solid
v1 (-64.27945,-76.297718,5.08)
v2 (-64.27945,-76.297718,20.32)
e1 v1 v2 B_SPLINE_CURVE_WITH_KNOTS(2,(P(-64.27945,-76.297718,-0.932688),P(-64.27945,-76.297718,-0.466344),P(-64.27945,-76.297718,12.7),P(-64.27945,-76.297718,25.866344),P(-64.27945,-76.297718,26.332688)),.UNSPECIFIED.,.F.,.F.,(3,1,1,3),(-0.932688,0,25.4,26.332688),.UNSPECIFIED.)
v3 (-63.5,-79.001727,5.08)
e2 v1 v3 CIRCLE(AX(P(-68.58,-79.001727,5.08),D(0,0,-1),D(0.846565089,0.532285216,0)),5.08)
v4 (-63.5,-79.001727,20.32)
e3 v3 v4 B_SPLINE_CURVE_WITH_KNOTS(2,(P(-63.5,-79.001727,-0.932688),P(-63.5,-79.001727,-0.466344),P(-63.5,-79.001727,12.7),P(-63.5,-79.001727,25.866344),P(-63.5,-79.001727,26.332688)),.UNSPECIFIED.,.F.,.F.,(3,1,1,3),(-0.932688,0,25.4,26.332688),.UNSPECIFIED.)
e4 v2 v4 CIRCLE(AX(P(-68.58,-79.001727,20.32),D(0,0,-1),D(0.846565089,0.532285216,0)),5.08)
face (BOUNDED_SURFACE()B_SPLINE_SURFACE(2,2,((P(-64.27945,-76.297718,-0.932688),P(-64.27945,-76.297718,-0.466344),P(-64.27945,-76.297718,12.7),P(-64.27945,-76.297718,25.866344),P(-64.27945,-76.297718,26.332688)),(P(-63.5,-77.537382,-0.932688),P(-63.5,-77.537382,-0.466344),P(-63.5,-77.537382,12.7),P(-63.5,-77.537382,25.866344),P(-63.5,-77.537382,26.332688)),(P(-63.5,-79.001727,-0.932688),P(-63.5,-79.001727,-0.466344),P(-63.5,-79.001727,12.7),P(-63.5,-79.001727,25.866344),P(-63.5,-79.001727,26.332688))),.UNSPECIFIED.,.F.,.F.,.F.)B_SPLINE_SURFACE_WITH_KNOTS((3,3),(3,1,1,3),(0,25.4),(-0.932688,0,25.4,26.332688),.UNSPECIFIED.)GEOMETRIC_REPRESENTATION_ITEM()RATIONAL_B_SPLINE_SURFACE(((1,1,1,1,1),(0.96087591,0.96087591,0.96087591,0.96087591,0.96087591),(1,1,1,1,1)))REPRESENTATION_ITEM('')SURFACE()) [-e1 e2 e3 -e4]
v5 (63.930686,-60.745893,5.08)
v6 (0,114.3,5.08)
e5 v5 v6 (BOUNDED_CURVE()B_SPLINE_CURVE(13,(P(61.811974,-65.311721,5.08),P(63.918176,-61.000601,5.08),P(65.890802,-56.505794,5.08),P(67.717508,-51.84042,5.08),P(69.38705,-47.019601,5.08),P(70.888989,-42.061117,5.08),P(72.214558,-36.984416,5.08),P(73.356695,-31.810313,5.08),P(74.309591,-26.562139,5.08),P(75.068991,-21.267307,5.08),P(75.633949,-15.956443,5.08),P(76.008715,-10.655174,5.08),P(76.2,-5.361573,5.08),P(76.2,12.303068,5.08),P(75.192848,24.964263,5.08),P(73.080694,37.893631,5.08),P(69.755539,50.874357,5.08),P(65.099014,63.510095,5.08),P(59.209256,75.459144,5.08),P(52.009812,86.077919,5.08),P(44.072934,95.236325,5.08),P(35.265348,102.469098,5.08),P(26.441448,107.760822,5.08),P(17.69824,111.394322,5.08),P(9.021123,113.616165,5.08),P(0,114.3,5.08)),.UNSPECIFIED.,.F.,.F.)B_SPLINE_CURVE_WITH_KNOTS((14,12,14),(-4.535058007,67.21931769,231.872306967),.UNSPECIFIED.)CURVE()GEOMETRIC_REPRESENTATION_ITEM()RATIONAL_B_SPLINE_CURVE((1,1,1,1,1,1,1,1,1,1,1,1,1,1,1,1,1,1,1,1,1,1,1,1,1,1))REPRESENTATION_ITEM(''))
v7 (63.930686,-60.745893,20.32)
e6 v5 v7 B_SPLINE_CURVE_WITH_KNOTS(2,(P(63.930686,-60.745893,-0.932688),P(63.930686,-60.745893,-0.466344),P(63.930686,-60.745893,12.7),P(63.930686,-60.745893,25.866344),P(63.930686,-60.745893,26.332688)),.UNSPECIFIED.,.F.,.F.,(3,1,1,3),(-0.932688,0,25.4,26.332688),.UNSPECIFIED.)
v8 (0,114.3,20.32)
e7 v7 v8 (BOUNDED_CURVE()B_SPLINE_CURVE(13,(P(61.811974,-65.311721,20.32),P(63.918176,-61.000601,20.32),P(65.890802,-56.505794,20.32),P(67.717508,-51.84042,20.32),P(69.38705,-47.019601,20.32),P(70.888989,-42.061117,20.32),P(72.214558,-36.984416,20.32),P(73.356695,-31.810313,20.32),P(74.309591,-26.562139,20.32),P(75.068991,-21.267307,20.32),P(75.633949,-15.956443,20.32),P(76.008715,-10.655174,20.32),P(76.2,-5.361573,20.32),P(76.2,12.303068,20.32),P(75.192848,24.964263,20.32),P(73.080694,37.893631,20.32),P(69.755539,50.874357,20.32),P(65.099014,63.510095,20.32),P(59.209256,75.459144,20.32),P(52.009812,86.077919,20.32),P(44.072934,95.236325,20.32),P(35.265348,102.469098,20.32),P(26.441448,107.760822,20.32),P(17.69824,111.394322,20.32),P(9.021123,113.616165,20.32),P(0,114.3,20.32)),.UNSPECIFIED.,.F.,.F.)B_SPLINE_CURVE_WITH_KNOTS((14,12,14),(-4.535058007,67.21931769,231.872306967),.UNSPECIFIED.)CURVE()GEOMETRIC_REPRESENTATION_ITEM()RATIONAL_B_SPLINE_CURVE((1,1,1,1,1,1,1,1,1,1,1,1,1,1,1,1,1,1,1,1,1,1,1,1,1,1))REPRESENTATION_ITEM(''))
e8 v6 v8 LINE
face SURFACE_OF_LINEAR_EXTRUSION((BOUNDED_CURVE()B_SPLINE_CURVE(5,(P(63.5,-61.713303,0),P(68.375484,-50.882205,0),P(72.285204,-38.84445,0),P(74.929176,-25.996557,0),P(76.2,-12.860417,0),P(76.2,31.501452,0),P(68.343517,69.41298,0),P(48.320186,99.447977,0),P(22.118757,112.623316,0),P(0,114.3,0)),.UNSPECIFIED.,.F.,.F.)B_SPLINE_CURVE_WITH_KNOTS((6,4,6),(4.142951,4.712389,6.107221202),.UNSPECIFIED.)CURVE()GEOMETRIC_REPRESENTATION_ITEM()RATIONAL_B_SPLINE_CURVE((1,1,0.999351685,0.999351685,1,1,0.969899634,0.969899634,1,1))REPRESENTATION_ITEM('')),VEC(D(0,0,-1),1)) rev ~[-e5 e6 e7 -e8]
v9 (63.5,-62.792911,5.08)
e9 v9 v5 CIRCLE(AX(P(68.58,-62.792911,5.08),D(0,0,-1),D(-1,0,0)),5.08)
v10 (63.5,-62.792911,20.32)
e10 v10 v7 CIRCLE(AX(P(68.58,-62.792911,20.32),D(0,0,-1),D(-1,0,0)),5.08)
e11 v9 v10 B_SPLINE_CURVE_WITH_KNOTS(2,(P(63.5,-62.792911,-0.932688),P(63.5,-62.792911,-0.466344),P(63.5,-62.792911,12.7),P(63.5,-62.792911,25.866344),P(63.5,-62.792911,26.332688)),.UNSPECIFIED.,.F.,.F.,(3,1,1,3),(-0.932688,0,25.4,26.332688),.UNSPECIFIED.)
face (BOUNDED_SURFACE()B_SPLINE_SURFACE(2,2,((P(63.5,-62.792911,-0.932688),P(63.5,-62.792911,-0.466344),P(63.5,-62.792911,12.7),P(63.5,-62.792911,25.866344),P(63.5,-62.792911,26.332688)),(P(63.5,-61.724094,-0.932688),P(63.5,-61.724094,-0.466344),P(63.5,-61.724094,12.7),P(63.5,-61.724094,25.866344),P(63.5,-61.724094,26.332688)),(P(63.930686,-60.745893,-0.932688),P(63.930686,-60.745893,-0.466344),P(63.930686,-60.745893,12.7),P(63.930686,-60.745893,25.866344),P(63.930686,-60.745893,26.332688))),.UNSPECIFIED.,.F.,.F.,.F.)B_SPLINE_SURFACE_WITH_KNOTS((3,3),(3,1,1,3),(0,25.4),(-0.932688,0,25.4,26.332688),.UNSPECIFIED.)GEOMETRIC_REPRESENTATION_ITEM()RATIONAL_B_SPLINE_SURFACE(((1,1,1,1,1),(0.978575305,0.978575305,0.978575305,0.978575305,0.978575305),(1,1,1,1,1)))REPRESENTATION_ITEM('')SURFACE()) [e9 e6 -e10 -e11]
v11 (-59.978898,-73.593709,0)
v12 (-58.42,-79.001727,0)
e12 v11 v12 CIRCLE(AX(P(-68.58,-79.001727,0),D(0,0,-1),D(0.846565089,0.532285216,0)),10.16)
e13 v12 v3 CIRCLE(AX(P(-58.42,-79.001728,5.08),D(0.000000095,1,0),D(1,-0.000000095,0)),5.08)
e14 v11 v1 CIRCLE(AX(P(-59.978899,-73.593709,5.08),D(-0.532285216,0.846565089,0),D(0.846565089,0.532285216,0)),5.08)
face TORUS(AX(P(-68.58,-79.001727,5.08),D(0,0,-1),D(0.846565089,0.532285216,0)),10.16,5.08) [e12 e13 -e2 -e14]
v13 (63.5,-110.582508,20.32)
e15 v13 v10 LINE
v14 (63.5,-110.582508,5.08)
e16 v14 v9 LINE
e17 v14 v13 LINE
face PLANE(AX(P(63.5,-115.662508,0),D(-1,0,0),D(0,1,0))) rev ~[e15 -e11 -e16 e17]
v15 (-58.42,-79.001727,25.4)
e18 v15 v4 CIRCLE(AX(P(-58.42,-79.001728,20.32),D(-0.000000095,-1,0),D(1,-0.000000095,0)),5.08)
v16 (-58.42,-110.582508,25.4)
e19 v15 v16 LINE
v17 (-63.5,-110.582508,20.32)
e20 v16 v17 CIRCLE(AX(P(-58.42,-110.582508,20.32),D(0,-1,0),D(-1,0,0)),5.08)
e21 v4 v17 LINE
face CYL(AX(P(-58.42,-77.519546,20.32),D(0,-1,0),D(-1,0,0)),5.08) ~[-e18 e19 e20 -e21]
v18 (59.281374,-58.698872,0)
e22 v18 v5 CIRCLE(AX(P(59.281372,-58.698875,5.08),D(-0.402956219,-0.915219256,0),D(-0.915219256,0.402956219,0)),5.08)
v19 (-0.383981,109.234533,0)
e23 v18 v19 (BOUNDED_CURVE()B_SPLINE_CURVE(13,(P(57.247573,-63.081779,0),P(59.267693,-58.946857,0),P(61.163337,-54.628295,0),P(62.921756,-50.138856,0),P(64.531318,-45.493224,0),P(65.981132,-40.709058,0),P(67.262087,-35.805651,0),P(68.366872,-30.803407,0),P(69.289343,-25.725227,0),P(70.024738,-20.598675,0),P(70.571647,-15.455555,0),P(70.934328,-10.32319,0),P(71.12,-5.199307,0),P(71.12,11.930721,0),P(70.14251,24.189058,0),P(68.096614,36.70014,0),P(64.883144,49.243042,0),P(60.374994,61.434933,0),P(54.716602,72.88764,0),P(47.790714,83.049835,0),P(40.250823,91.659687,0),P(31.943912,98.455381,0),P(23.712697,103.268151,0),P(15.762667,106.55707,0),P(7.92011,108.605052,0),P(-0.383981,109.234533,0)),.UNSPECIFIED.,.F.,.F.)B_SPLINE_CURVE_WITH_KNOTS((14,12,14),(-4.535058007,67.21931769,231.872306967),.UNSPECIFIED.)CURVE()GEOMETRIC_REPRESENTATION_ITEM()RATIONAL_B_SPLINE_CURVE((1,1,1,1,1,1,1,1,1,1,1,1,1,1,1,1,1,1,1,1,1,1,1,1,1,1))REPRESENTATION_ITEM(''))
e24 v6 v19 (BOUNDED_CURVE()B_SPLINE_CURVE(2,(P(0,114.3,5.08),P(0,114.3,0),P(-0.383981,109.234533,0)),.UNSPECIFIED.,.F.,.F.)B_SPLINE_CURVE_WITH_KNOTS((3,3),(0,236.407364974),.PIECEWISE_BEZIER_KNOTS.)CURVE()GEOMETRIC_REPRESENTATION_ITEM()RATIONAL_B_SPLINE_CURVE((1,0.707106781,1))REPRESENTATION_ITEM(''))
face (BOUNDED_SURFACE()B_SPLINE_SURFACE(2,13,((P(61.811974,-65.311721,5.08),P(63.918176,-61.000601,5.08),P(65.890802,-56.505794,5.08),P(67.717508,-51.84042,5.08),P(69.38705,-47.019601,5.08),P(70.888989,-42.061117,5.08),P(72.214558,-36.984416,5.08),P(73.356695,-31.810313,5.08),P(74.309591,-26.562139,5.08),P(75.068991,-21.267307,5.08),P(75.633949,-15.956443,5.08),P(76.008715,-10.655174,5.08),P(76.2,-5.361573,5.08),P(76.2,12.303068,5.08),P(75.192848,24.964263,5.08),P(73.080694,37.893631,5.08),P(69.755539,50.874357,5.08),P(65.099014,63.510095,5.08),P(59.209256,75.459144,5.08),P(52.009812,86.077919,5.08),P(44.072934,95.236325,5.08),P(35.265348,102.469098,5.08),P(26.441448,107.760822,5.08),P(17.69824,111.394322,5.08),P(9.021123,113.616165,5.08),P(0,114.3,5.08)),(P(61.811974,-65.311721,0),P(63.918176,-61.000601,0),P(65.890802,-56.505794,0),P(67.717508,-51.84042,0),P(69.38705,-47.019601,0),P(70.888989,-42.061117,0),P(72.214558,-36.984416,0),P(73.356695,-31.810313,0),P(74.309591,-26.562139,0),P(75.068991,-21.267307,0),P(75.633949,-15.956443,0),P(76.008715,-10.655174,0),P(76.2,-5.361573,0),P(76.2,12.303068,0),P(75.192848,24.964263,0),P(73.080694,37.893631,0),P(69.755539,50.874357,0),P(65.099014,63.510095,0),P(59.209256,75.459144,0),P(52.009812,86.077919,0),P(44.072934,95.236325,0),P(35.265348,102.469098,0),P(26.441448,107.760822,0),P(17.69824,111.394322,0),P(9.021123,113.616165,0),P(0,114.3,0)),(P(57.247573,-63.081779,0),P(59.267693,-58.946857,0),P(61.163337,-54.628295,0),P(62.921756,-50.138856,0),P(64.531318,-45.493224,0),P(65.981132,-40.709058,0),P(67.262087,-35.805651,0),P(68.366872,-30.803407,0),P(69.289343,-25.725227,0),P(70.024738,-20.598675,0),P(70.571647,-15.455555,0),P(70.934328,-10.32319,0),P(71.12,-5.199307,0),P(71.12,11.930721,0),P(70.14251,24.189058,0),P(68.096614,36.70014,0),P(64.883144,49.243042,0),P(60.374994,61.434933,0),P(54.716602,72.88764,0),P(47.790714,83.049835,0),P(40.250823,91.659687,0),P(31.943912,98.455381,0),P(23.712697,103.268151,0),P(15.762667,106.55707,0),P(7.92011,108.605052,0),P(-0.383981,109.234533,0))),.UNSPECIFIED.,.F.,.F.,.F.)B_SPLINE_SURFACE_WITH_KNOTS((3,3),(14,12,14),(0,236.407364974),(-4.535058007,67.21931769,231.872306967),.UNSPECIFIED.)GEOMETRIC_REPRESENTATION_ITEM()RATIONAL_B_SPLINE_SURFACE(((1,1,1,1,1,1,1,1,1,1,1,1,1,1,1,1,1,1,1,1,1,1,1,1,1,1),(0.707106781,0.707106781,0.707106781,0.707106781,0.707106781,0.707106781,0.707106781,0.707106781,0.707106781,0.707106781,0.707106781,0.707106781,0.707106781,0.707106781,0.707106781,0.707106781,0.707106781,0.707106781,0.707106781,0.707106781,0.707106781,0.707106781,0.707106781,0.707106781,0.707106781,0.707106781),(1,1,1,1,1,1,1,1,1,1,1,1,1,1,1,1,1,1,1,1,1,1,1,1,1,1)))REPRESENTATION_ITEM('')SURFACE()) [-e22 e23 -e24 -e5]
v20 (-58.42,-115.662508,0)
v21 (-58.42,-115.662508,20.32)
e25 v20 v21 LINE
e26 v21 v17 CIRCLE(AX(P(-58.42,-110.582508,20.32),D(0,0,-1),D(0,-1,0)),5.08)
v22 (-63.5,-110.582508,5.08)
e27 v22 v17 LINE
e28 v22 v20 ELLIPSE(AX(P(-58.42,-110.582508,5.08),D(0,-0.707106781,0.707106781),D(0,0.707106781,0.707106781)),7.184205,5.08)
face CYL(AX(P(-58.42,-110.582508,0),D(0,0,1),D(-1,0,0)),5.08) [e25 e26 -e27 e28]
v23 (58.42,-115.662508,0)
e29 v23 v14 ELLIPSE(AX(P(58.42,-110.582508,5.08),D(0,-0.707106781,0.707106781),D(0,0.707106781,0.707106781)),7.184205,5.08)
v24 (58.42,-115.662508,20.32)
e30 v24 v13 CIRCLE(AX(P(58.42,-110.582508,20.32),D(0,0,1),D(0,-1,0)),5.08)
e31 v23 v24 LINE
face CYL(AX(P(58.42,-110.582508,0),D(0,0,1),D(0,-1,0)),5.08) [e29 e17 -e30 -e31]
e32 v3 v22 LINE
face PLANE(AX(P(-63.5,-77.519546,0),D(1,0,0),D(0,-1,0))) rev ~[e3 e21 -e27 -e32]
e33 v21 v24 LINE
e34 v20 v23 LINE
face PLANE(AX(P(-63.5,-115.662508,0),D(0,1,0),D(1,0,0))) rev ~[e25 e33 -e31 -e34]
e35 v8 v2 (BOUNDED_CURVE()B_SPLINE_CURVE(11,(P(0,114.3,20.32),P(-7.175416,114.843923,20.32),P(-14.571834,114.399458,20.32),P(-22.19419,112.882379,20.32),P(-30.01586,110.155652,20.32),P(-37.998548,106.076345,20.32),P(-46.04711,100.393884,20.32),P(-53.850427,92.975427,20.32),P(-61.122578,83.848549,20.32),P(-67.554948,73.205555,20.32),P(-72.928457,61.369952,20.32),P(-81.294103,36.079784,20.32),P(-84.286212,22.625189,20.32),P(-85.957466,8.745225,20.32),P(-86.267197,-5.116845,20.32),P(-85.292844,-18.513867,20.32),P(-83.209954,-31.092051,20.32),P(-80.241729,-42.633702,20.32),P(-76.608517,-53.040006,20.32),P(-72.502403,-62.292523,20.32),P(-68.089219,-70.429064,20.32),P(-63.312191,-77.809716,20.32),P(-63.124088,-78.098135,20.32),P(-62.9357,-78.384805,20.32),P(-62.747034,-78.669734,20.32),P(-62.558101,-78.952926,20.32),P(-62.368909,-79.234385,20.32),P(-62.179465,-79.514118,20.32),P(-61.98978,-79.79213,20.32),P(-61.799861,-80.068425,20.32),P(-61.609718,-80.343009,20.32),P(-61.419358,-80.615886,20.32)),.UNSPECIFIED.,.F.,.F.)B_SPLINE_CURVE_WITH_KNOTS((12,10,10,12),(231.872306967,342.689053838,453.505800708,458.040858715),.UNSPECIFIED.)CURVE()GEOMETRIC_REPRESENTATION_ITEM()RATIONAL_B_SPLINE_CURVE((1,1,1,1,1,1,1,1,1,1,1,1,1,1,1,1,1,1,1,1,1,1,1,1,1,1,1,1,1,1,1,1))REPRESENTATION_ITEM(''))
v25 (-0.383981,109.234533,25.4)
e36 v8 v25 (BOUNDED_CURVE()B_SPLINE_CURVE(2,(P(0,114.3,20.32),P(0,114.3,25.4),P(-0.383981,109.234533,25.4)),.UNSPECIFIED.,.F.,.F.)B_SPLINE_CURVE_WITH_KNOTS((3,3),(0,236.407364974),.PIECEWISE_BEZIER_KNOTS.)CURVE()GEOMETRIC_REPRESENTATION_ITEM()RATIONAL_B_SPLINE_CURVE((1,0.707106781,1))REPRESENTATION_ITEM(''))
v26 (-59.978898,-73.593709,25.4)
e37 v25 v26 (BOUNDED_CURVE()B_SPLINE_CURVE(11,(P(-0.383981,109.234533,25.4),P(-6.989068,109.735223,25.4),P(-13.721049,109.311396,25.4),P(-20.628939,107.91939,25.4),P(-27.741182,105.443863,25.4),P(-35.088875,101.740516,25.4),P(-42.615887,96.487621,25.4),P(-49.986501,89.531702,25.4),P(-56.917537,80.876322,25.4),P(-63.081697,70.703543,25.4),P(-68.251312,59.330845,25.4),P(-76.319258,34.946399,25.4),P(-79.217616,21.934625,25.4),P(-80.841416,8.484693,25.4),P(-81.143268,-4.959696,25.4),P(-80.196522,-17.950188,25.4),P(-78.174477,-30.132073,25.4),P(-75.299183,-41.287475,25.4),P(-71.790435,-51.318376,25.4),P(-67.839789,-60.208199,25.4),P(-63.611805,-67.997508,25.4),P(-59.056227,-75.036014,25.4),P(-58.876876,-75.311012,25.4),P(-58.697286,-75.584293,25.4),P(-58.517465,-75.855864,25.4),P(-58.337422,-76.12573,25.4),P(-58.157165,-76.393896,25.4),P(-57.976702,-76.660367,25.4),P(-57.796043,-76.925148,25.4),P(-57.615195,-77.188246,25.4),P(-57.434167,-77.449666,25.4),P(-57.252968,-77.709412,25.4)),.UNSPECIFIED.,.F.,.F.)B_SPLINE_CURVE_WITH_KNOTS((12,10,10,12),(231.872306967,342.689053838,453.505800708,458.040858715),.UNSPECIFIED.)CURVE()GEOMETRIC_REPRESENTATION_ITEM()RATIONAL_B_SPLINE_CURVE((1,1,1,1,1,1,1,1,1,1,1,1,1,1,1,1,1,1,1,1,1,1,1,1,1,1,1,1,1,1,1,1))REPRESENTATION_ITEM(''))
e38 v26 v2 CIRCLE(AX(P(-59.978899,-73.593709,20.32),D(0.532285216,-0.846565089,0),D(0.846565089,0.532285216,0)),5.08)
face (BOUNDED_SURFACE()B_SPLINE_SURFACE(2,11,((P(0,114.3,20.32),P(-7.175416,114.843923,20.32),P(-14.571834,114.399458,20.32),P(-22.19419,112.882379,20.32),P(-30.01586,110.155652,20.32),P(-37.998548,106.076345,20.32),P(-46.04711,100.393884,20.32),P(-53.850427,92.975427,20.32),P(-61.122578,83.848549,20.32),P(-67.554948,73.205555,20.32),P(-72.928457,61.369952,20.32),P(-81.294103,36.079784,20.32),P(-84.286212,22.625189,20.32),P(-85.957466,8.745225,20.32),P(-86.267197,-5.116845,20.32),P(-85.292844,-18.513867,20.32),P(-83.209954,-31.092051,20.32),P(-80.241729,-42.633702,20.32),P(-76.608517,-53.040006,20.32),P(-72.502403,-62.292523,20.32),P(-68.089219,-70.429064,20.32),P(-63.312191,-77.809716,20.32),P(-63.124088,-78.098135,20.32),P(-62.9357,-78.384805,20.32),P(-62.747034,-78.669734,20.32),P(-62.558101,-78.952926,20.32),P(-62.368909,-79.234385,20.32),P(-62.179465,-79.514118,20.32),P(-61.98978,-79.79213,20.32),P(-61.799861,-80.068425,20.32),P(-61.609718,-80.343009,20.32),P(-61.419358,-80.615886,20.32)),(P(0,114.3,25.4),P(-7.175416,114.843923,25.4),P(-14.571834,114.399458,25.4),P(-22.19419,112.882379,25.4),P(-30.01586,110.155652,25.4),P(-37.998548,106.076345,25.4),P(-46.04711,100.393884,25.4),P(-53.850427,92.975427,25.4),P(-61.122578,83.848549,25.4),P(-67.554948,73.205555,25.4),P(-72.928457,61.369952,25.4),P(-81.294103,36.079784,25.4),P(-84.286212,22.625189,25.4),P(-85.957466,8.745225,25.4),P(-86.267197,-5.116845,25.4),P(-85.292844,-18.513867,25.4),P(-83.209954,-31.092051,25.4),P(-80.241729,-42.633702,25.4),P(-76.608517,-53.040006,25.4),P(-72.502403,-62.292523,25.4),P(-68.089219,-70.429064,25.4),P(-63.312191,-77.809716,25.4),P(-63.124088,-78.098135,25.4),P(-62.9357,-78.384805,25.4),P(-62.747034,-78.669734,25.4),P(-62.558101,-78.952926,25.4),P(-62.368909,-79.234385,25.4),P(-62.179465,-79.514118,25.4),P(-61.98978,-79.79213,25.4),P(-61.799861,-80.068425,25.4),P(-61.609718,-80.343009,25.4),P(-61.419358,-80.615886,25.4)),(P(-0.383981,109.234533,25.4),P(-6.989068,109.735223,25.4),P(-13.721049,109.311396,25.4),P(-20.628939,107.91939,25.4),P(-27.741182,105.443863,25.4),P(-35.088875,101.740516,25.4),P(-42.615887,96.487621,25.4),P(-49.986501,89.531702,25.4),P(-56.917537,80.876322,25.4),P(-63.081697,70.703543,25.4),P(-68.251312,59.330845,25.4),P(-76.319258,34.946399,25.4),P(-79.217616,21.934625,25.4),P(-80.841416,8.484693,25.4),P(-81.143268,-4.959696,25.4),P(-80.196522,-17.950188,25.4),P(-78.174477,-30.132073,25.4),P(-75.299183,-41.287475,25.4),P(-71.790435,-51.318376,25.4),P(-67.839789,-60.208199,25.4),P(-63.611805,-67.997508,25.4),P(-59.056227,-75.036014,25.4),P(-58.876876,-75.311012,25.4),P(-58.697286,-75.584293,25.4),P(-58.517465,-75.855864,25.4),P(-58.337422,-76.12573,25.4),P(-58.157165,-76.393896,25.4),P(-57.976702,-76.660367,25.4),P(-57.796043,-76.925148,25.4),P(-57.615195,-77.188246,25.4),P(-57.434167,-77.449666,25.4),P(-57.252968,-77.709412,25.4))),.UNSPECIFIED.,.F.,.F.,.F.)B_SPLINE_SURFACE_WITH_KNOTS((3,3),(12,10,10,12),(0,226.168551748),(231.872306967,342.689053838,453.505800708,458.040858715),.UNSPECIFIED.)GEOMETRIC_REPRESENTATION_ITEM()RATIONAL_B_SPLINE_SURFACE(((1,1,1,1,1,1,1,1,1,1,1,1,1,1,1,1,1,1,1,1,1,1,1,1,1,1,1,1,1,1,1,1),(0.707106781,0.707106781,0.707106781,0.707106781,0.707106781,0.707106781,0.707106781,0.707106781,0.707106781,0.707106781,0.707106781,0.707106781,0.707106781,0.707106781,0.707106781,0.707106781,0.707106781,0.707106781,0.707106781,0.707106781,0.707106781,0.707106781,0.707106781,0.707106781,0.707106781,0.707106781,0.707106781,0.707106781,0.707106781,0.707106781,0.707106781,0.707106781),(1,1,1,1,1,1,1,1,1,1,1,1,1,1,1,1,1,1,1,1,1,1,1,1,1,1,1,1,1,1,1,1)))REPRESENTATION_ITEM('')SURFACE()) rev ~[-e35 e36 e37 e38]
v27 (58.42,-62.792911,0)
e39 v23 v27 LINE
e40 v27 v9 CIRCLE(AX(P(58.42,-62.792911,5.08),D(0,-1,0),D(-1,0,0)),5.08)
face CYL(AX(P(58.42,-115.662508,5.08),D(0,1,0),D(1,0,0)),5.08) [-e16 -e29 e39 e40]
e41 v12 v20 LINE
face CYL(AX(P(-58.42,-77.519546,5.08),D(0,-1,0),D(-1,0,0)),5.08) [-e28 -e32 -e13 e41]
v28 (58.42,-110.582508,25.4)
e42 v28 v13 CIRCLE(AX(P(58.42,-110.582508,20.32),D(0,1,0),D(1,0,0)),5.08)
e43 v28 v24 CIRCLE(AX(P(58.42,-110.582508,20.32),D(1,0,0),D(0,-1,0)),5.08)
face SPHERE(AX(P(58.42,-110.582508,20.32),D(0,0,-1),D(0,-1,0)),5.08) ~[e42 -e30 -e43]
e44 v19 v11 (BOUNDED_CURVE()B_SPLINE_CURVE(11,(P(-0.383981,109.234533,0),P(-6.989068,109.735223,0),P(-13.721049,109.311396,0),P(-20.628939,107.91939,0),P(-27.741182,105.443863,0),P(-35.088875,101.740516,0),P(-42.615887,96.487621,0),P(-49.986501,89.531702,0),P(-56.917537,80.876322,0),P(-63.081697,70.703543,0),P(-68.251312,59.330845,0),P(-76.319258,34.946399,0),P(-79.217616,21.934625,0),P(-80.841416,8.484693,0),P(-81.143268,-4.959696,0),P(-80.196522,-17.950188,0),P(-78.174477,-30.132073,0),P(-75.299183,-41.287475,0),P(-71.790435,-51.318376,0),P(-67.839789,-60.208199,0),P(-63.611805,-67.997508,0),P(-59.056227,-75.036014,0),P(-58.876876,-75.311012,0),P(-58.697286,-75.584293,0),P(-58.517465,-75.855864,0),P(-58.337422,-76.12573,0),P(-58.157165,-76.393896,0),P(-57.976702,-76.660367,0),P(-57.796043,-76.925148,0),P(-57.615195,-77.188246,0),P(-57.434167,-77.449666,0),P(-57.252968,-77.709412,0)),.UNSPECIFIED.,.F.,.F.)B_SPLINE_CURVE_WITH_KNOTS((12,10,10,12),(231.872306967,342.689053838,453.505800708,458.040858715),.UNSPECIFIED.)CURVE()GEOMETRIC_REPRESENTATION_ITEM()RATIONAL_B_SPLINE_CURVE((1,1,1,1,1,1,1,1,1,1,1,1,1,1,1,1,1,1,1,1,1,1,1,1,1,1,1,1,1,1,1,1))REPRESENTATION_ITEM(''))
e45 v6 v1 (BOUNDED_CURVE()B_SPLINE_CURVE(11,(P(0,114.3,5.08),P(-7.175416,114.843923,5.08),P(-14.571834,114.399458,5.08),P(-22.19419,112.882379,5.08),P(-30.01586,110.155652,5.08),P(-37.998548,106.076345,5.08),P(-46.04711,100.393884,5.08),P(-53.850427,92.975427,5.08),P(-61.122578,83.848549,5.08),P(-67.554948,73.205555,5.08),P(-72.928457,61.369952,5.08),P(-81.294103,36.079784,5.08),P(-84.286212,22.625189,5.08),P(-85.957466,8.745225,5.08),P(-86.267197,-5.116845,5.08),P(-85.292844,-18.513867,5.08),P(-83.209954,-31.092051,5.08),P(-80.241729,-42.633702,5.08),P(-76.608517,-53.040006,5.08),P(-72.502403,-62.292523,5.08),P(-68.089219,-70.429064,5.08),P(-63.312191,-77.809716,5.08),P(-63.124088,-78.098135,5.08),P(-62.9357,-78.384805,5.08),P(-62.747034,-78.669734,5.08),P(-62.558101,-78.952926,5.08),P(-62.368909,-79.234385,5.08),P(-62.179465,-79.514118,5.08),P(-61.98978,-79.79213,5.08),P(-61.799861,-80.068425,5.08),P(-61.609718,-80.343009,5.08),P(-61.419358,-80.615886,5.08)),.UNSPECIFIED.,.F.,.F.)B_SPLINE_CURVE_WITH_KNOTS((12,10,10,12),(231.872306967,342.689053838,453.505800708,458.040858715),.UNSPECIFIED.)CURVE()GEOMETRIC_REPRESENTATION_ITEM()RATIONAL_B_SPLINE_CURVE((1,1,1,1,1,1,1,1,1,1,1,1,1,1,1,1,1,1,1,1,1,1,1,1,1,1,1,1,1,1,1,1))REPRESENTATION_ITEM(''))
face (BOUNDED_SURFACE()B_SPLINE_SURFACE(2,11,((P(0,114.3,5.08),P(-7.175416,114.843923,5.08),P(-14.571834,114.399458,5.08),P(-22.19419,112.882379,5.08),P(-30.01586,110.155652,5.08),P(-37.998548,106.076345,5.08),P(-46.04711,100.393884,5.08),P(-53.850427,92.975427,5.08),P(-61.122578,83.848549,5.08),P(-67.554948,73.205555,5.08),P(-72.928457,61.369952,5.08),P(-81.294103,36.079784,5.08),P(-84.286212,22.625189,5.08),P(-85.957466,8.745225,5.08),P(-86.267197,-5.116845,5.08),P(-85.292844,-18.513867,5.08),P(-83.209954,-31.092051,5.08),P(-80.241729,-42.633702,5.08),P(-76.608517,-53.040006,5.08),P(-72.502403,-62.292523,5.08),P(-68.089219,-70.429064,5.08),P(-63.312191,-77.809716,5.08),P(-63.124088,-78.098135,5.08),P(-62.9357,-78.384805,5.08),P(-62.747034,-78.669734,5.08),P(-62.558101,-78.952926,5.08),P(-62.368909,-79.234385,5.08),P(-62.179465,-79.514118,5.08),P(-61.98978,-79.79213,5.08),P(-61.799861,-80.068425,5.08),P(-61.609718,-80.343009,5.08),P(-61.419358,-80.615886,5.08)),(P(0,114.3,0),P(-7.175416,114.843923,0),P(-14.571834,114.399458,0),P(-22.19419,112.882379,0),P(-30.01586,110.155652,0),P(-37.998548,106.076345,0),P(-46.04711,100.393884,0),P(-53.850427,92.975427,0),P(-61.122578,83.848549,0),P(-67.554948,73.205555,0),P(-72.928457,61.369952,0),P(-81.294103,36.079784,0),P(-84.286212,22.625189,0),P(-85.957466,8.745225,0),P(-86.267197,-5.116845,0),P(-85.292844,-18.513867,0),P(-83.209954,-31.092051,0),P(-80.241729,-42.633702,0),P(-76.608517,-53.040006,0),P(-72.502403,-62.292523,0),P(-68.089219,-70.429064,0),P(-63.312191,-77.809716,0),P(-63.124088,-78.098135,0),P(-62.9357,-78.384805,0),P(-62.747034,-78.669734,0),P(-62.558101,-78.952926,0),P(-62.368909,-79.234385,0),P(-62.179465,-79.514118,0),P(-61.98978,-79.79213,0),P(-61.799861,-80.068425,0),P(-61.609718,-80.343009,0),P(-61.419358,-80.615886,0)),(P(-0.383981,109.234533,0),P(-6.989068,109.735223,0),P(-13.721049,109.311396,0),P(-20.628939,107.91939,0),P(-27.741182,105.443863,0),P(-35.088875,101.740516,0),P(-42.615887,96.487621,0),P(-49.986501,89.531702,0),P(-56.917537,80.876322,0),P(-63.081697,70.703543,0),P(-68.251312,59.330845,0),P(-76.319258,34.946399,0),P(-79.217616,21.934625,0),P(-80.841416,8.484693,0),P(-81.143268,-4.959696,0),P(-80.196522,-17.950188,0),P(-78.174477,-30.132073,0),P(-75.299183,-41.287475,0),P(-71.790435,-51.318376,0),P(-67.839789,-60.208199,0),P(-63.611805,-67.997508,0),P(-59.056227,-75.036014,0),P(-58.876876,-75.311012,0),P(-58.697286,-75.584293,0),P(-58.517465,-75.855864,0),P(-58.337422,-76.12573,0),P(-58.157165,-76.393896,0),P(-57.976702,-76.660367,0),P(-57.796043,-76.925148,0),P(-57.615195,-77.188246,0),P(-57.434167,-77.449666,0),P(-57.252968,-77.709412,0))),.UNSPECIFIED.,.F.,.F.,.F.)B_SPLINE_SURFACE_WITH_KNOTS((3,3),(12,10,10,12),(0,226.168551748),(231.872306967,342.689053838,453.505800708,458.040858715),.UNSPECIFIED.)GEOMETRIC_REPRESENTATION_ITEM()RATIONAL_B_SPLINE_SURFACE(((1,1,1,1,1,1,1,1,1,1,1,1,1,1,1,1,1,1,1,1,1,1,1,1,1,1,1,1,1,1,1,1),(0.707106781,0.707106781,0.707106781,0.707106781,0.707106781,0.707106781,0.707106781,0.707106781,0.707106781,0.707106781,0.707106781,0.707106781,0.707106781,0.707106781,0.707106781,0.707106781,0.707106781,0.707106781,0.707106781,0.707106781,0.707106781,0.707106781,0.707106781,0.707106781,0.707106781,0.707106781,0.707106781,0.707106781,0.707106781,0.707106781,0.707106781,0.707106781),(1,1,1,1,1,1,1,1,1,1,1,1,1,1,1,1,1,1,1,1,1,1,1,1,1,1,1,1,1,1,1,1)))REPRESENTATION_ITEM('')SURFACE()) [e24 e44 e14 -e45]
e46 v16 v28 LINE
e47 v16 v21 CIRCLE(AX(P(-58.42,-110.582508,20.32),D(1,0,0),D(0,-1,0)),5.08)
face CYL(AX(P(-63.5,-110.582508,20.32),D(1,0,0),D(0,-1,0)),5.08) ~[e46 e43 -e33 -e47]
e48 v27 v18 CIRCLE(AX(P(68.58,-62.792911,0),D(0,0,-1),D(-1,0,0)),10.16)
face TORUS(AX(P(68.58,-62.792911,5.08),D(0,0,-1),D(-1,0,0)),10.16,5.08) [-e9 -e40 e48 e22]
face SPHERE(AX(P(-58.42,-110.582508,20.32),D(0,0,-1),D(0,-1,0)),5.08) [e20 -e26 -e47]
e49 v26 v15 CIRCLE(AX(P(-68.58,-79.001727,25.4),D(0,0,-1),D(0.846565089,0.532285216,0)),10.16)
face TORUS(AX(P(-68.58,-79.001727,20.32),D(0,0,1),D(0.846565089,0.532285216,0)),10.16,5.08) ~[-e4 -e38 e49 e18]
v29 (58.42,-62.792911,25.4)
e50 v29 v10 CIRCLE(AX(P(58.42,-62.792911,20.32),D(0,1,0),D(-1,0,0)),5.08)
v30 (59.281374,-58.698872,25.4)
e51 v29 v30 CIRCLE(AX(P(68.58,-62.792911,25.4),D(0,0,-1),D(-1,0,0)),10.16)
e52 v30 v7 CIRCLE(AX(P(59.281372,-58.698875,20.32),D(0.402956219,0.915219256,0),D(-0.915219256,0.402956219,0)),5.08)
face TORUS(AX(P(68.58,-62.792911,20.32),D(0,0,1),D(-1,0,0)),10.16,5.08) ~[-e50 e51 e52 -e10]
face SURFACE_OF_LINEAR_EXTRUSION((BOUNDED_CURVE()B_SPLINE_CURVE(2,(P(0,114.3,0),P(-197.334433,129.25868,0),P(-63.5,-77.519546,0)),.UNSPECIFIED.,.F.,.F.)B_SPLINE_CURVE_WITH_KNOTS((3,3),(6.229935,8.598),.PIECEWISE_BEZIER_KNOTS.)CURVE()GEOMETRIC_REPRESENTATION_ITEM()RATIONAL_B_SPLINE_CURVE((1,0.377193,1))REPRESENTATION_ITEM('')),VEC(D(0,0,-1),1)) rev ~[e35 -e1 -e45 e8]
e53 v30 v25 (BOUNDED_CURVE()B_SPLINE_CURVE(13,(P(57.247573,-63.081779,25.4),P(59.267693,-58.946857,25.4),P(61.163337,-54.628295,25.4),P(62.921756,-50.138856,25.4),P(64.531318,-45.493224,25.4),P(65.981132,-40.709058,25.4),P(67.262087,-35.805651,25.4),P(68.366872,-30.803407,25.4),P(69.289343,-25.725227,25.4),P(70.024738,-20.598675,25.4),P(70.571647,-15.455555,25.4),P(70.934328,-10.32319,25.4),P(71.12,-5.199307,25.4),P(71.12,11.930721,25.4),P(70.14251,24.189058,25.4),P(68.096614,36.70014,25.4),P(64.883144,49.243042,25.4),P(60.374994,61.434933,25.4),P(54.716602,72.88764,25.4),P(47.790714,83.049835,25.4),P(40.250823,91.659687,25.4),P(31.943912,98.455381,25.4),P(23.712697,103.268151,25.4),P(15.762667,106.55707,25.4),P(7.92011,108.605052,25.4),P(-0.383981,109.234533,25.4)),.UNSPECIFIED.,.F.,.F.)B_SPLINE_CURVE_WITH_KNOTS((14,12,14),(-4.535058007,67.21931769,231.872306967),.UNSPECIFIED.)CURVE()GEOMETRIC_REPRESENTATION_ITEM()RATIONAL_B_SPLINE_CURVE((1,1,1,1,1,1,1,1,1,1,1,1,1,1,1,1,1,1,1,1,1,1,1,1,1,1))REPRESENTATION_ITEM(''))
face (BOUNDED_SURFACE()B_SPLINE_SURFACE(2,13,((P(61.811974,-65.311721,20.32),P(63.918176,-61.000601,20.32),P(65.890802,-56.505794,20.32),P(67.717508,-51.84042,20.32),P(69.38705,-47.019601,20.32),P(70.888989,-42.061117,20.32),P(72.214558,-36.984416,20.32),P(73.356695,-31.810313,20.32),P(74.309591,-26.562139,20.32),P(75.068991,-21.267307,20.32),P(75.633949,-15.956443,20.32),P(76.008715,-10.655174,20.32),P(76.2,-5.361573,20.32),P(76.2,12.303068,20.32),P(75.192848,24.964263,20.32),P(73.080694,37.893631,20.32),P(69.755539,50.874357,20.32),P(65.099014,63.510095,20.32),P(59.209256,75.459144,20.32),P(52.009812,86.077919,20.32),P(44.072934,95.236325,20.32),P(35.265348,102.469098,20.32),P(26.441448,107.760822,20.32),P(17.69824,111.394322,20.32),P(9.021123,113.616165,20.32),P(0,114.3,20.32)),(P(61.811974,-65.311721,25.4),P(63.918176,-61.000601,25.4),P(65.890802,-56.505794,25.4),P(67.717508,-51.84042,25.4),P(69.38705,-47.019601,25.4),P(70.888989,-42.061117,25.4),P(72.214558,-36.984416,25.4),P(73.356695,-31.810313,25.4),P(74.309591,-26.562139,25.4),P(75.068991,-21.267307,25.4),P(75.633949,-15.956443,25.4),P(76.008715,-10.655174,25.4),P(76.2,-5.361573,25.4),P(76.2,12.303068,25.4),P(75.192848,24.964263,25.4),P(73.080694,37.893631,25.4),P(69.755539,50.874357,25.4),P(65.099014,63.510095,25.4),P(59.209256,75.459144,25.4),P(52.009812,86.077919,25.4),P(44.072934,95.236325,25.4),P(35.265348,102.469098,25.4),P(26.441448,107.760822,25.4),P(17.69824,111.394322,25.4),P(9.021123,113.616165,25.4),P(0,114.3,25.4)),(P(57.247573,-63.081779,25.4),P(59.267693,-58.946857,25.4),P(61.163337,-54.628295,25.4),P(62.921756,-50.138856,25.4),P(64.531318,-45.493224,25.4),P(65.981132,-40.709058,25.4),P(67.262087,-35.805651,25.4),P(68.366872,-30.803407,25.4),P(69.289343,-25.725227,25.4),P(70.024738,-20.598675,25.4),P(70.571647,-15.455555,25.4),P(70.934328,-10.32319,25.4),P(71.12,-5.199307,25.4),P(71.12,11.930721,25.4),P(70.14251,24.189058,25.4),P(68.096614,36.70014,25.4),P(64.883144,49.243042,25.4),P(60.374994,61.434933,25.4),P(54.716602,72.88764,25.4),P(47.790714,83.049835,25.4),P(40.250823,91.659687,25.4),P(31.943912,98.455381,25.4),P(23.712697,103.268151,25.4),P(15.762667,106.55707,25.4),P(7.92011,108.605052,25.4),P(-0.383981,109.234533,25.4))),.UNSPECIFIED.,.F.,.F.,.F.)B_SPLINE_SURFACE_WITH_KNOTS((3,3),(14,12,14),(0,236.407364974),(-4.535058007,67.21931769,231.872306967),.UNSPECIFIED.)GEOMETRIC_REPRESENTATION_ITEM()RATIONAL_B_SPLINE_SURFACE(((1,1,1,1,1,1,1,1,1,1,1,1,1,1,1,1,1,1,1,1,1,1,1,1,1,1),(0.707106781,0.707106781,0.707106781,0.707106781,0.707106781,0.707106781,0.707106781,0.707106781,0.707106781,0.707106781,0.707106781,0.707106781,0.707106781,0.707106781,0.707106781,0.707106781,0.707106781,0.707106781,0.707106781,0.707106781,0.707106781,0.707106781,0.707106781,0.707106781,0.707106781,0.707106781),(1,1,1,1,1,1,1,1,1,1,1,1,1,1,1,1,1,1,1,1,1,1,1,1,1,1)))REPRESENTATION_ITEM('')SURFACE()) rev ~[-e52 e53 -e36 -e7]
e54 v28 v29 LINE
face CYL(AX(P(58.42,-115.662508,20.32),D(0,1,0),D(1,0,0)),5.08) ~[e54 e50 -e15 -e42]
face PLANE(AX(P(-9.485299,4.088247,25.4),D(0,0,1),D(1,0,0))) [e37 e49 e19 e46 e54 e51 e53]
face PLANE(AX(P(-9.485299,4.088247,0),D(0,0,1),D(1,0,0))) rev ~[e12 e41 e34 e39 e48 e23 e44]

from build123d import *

# Parameters (mm, degrees)
F1_DEPTH = 25.4
F2_R     = 5.08


with BuildPart() as f1:
    # F0 (on Top) → F1 (new body)
    with BuildSketch(Plane.XY):
        with BuildLine():
            Line((76.2, 0), (0, 0))
            Line((0, 0), (0, 114.3))
            add(Edge.make_bspline(
                [(0, 114.3), (-197.334433, 129.25868), (-63.5, -77.519546)],
                knots=[6.229935, 6.229935, 6.229935, 8.598, 8.598, 8.598], degree=2, weights=[1, 0.377193, 1]))
            Line((-63.5, -77.519546), (-63.5, -36.650248))
            Line((-63.5, -36.650248), (63.5, -36.650248))
            Line((63.5, -36.650248), (63.5, -61.713303))
            add(Edge.make_bspline(
                [(63.5, -61.713303), (76.2, -33.499707), (76.2, 0)],
                knots=[4.142951, 4.142951, 4.142951, 4.712389, 4.712389, 4.712389], degree=2, weights=[1, 0.959741, 1]))
        make_face()
        with BuildLine():
            Line((0, 114.3), (0, 0))
            Line((0, 0), (76.2, 0))
            add(Edge.make_bspline(
                [(76.2, 0), (76.2, 108.523758), (0, 114.3)],
                knots=[4.712389, 4.712389, 4.712389, 6.229935, 6.229935, 6.229935], degree=2, weights=[1, 0.725681, 1]))
        make_face()
        with BuildLine():
            Line((63.5, -115.662508), (63.5, -61.713303))
            add(Edge.make_bspline(
                [(-63.5, -77.519546), (7.208762, -186.766711), (63.5, -61.713303)],
                knots=[2.314815, 2.314815, 2.314815, 4.142951, 4.142951, 4.142951], degree=2, weights=[1, 0.610529, 1]))
            Line((-63.5, -77.519546), (-63.5, -115.662508))
            Line((-63.5, -115.662508), (63.5, -115.662508))
        make_face()
        with BuildLine():
            add(Edge.make_bspline(
                [(-63.5, -77.519546), (7.208762, -186.766711), (63.5, -61.713303)],
                knots=[2.314815, 2.314815, 2.314815, 4.142951, 4.142951, 4.142951], degree=2, weights=[1, 0.610529, 1]))
            Line((63.5, -61.713303), (63.5, -36.650248))
            Line((63.5, -36.650248), (-63.5, -36.650248))
            Line((-63.5, -36.650248), (-63.5, -77.519546))
        make_face()
    extrude(amount=F1_DEPTH)

    # F2
    f2_edges = [f1.edges().sort_by_distance(p)[0] for p in [
        (63.5, -115.662508, 12.7),
        (-63.5, -115.662508, 12.7),
        (-80.161297, 38.167571, 0),
        (-80.161297, 38.167571, 25.4),
        (0, -115.662508, 25.4),
        (-63.5, -96.591027, 0),
        (-63.5, -96.591027, 25.4),
        (63.5, -61.713303, 12.7),
        (-63.5, -77.519546, 12.7),
        (63.5, -88.687906, 0),
        (63.5, -88.687906, 25.4),
    ]]
    fillet(f2_edges, radius=F2_R)


solid = f1.part
